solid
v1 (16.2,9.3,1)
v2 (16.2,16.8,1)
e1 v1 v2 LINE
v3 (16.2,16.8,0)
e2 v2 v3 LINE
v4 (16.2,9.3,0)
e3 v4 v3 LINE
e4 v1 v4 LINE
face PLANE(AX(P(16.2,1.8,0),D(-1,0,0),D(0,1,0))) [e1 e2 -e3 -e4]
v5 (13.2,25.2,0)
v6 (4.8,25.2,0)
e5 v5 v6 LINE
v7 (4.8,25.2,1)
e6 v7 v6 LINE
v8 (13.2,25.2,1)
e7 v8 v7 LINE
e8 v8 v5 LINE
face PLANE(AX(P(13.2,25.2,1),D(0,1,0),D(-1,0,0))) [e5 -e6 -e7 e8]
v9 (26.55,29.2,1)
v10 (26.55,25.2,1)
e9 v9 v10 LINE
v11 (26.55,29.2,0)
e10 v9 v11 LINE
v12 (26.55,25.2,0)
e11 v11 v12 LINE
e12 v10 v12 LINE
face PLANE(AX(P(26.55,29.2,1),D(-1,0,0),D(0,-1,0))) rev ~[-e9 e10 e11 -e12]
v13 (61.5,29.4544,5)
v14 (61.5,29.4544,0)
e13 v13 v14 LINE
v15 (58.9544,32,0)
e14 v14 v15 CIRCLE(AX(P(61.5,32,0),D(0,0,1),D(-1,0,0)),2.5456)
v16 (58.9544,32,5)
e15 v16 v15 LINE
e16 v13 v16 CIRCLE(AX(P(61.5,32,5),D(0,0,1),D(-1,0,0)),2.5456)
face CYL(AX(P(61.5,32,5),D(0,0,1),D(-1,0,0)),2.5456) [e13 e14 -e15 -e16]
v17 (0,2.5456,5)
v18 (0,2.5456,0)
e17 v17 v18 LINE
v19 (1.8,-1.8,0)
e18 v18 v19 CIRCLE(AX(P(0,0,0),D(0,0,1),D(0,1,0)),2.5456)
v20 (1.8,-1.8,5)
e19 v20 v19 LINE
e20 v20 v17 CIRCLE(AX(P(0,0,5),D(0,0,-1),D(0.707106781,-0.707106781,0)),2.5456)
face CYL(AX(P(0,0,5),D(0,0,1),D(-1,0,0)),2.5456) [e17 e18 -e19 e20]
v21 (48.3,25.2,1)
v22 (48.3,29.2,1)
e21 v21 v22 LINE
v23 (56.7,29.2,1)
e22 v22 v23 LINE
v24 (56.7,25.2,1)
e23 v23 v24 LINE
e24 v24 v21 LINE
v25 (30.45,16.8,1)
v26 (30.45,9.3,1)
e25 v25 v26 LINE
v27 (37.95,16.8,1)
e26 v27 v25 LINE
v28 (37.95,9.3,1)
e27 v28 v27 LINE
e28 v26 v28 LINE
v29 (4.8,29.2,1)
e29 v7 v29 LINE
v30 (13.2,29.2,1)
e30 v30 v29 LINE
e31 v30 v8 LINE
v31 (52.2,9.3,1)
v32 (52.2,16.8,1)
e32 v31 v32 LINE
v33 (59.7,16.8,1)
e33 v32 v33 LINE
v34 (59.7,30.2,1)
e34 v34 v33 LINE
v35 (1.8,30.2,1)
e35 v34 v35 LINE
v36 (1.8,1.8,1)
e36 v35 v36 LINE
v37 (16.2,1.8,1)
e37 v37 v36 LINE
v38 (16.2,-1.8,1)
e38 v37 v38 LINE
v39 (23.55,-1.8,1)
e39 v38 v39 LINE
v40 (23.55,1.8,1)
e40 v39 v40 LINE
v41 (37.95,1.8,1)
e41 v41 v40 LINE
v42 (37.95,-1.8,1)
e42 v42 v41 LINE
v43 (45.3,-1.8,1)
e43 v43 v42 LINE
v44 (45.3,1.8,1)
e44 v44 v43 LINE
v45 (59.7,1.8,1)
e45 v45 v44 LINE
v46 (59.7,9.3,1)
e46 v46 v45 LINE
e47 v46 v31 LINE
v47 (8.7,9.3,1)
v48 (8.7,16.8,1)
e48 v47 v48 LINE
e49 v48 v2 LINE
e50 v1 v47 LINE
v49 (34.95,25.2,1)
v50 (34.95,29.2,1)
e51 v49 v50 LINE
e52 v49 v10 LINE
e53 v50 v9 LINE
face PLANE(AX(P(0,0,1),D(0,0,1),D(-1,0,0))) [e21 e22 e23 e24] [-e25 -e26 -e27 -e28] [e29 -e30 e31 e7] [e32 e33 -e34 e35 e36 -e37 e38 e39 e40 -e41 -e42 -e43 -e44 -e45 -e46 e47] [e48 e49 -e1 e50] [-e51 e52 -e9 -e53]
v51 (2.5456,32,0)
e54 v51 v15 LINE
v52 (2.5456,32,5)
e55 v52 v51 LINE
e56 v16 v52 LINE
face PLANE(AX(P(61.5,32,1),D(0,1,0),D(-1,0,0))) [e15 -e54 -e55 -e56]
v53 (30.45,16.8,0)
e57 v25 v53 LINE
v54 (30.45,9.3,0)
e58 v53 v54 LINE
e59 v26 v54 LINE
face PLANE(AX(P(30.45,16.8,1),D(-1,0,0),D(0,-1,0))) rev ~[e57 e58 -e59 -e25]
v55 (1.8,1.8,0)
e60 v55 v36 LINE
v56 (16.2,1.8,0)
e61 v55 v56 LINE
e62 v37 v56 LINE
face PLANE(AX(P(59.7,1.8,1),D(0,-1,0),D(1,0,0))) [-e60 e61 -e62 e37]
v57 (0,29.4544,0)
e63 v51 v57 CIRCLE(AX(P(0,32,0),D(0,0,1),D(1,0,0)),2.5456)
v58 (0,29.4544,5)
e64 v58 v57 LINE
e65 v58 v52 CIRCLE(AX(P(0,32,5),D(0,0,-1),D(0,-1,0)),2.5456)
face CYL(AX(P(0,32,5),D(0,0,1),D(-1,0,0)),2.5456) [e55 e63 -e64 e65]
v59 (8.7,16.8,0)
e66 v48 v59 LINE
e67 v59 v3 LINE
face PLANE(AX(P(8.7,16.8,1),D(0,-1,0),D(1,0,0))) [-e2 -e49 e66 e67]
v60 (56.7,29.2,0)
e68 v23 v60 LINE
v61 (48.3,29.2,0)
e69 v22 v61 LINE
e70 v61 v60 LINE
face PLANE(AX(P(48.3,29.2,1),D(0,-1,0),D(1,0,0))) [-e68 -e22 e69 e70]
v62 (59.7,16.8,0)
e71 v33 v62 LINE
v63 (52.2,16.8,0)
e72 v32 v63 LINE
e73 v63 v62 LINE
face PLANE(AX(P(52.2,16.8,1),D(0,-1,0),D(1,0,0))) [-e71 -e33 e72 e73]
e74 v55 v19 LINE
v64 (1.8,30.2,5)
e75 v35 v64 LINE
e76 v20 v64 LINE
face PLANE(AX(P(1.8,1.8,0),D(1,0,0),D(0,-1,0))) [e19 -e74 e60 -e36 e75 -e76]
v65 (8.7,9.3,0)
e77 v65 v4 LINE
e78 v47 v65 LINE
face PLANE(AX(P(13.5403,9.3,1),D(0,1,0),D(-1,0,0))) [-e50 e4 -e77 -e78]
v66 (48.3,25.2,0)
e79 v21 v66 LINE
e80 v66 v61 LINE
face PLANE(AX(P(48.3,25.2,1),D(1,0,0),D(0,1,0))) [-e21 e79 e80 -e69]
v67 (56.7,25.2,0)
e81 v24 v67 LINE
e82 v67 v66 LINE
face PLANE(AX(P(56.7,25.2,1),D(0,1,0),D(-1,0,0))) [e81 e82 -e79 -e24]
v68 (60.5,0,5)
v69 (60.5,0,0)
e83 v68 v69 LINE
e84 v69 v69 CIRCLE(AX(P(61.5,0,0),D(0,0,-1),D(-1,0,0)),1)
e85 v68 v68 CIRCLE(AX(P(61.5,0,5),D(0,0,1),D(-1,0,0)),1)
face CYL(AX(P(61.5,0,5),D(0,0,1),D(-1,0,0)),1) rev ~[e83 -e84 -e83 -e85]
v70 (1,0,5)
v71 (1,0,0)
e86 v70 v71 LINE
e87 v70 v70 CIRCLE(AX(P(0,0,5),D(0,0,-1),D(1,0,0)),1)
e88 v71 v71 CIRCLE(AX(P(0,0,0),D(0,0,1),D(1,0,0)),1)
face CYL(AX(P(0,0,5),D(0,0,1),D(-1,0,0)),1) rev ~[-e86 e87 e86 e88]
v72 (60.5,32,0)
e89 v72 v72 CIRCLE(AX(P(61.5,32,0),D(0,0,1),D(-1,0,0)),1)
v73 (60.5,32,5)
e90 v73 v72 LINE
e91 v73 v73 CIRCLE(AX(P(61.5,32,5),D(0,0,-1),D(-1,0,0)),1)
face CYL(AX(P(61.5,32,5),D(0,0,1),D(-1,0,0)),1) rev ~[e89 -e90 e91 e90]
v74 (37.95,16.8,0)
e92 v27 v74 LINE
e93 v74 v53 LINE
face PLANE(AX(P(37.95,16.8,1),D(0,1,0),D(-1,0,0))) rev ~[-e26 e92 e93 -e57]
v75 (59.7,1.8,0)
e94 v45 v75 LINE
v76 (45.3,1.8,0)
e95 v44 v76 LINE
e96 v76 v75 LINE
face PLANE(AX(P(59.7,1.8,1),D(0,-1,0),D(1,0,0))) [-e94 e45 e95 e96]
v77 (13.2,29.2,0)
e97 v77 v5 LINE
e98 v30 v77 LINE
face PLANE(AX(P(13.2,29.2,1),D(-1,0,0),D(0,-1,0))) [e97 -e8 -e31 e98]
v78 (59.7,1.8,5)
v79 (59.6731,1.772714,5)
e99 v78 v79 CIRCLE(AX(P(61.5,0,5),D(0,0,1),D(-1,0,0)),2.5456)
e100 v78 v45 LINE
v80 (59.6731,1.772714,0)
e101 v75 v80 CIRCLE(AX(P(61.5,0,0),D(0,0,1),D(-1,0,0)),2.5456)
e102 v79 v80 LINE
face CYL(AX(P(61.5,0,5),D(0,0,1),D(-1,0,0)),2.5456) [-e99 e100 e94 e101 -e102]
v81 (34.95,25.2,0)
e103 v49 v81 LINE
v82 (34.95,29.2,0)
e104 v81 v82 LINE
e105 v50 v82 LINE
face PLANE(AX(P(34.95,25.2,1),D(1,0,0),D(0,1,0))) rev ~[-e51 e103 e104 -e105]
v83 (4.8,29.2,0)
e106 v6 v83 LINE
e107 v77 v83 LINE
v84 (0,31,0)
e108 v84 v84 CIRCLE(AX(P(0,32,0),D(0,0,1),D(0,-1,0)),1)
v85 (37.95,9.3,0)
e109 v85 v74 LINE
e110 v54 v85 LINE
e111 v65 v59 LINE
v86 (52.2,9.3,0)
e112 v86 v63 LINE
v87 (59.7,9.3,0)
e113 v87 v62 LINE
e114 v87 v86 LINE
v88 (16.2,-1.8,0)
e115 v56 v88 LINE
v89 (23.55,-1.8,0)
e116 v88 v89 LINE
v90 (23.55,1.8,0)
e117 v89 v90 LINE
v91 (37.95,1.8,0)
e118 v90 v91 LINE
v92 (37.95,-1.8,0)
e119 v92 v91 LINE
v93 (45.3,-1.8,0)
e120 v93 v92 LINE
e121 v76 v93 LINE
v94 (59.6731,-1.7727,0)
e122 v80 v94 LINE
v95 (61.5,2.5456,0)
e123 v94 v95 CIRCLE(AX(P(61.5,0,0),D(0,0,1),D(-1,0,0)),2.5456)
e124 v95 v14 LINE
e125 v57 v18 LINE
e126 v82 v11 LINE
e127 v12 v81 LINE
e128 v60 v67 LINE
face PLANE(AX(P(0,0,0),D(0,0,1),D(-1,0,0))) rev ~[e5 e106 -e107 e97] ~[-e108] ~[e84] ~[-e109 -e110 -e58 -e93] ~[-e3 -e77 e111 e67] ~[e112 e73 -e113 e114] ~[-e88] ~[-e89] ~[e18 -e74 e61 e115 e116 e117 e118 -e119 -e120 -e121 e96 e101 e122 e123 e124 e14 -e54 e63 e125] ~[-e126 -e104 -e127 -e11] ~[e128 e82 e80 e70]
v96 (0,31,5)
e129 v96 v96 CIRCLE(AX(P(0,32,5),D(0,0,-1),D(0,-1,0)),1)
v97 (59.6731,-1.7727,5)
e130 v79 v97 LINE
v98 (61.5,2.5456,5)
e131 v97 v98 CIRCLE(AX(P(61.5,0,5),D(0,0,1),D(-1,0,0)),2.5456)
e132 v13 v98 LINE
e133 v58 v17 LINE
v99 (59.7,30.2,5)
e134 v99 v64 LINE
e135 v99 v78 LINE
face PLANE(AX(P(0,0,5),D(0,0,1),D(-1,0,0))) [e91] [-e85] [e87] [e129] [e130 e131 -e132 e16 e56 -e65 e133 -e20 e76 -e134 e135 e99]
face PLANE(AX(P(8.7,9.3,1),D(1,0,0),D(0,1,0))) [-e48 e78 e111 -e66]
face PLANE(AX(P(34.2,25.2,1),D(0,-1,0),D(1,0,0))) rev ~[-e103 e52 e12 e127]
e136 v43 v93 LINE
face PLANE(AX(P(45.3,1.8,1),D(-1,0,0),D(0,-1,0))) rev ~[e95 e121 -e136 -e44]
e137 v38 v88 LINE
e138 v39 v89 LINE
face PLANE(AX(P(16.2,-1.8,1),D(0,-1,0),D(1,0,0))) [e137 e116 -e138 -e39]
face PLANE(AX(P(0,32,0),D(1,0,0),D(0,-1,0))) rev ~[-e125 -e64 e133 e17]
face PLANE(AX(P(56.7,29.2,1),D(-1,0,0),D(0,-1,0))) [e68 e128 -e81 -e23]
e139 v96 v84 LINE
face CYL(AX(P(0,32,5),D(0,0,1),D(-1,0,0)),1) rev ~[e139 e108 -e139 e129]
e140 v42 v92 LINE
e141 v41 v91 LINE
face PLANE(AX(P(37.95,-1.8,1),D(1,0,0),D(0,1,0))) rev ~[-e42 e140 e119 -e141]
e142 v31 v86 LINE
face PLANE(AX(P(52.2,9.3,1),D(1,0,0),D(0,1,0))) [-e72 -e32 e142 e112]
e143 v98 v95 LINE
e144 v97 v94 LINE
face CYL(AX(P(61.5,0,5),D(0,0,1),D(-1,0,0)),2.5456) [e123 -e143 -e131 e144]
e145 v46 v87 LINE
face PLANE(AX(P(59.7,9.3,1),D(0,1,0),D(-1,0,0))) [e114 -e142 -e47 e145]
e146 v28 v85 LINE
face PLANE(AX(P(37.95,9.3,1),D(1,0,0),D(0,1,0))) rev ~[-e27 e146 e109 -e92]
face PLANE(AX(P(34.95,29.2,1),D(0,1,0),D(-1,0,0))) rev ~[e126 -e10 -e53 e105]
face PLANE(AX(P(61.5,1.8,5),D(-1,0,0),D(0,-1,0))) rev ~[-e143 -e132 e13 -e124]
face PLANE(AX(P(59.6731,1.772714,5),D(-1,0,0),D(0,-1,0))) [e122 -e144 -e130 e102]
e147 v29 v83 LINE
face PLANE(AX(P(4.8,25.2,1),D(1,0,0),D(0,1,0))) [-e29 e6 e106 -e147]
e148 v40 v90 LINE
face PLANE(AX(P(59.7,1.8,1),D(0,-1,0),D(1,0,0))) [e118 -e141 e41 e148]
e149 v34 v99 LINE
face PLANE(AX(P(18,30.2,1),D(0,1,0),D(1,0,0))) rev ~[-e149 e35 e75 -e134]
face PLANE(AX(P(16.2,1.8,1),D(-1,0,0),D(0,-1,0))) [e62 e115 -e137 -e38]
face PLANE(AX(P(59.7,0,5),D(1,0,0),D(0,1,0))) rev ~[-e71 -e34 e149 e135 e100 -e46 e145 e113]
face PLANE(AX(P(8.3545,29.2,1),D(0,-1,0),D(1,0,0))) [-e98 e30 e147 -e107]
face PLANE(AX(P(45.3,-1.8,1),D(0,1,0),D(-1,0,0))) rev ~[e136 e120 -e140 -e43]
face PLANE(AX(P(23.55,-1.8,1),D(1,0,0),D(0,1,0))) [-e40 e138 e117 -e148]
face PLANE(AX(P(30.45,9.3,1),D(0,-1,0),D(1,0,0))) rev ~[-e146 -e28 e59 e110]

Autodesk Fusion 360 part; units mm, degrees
sketch "Sketch1" plane through (0, 0, 0) normal (0, 0, 1) x (1, 0, 0)
  line L0 (0, 0) -> (18, 0)
  line L1 (18, 0) -> (18, 32)
  line L2 (18, 32) -> (0, 32)
  line L3 (0, 32) -> (0, 0)
  line L4 (1.8, 1.8) -> (16.2, 1.8)
  line L5 (16.2, 1.8) -> (16.2, 30.2)
  line L6 (16.2, 30.2) -> (1.8, 30.2)
  line L7 (1.8, 30.2) -> (1.8, 1.8)
  line L8 (1.8, 1.8) -> (1.8, 0)
  line L9 (16.2, 1.8) -> (16.2, 0)
  line L10 (1.8, 0) -> (1.8, -1.8)
  line L11 (16.2, 0) -> (16.2, -1.8)
  line L12 (16.2, 1.8) -> (18, 1.8)
  dimension "d1" = 18
  dimension "d2" = 32
  dimension "d3" = 28.4
  dimension "d4" = 14.4
  dimension "d5" = 1.8
  dimension "d6" = 1.8
extrude "Extrude1" add sketch "Sketch1" along normal blind 1 contours L4 L5 L6 L7 makes body 1
extrude "Extrude3" add sketch "Sketch1" along normal blind 5 separate body contours L0 L1 L2 L3 L5 L6 L7 L8 L12 | L0 L1 L9 L12 makes body 2
sketch "Sketch3" plane through (0, 30.2, 0) normal (0, -1, 0) x (1, 0, 0)
  line L0 (1.8, 0) -> (16.2, 0)
  line L1 (16.2, 0) -> (16.2, 5)
  line L2 (16.2, 5) -> (1.8, 5)
  line L3 (1.8, 5) -> (1.8, 0)
  line L4 (3.3, 1) -> (14.7, 1)
  line L5 (14.7, 1) -> (14.7, 4)
  line L6 (14.7, 4) -> (3.3, 4)
  line L7 (3.3, 4) -> (3.3, 1)
  dimension "d13" = 3
  dimension "d14" = 1.5
  dimension "d15" = 1.5
sketch "Sketch4" plane through (0, 0, 1) normal (0, 0, 1) x (-1, 0, 0)
  line L0 (-1.8, -30.2) -> (-1.8, -1.8)
  line L1 (-1.8, -1.8) -> (-16.2, -1.8)
  line L2 (-16.2, -1.8) -> (-16.2, -30.2)
  line L3 (-16.2, -30.2) -> (-1.8, -30.2)
  line L4 (-13.5403, -1.8) -> (-13.5403, -9.3)
  line L5 (-16.2, -9.3) -> (-8.7, -9.3)
  line L6 (-8.7, -9.3) -> (-8.7, -16.8)
  line L7 (-8.7, -16.8) -> (-16.2, -16.8)
  line L8 (-16.2, -16.8) -> (-16.2, -9.3)
  dimension "d18" = 7.5
  dimension "d19" = 7.5
  dimension "d20" = 7.5
extrude "Extrude5" cut sketch "Sketch4" against normal blind 1 contours L2 L5 L6 L7 L8 bodies 1
sketch "Sketch5" plane through (0, 0, 1) normal (0, 0, 1) x (-1, 0, 0)
  line L0 (-8.7, -16.8) -> (-16.2, -16.8)
  line L1 (-16.2, -16.8) -> (-16.2, -30.2)
  line L2 (-16.2, -30.2) -> (-1.8, -30.2)
  line L3 (-1.8, -30.2) -> (-1.8, -1.8)
  line L4 (-1.8, -1.8) -> (-16.2, -1.8)
  line L5 (-16.2, -1.8) -> (-16.2, -9.3)
  line L6 (-16.2, -9.3) -> (-8.7, -9.3)
  line L7 (-8.7, -9.3) -> (-8.7, -16.8)
  line L8 (-9, -30.2) -> (-9, -25.2) construction
  line L9 (-1.8, -25.2) -> (-4.8, -25.2) construction
  line L10 (-16.2, -25.2) -> (-13.2, -25.2) construction
  line L11 (-8.3545, -30.2) -> (-8.3545, -29.2)
  line L12 (-13.2, -25.2) -> (-4.8, -25.2)
  line L13 (-4.8, -25.2) -> (-4.8, -29.2)
  line L14 (-4.8, -29.2) -> (-13.2, -29.2)
  line L15 (-13.2, -29.2) -> (-13.2, -25.2)
  dimension "d24" = 3
  dimension "d25" = 3
  dimension "d26" = 1
  dimension "d27" = 5
  dimension "d28" = 4
sketch "Sketch7" plane through (0, 0, 5) normal (0, 0, 1) x (-1, 0, 0)
  line L0 (-16.2, -30.2) -> (-16.2, 0)
  line L1 (-16.2, 0) -> (-18, 0)
  line L2 (-18, 0) -> (-18, -32)
  line L3 (-18, -32) -> (0, -32)
  line L4 (0, -32) -> (0, 0)
  line L5 (0, 0) -> (-1.8, 0)
  line L6 (-1.8, 0) -> (-1.8, -30.2)
  line L7 (-1.8, -30.2) -> (-16.2, -30.2)
  line L8 (-16.2, -30.2) -> (-18, -30.2)
  line L9 (-16.2, 0) -> (-18, 0)
extrude "Extrude9" cut sketch "Sketch7" against normal blind 4 contours L0 L1 L2 L8 L9 bodies 2
combine "Combine2" operation add target body 2 tool bodies 1
extrude "Extrude6" cut sketch "Sketch5" against normal blind 1 contours L12 L13 L14 L15 bodies 2
sketch "Sketch9" plane through (0, 0, 1) normal (0, 0, 1) x (-1, 0, 0)
  line L0 (-4.8, -25.2) -> (-4.8, -29.2)
  line L1 (-4.8, -29.2) -> (-13.2, -29.2)
  line L2 (-13.2, -29.2) -> (-13.2, -25.2)
  line L3 (-13.2, -25.2) -> (-4.8, -25.2)
  line L4 (-16.2, -1.8) -> (-16.2, 0)
  line L5 (-16.2, 0) -> (-18, 0)
  line L6 (-18, 0) -> (-18, -30.2)
  line L7 (-18, -30.2) -> (-1.8, -30.2)
  line L8 (-1.8, -30.2) -> (-1.8, -1.8)
  line L9 (-1.8, -1.8) -> (-16.2, -1.8)
  line L10 (-16.2, -9.3) -> (-8.7, -9.3)
  line L11 (-8.7, -9.3) -> (-8.7, -16.8)
  line L12 (-8.7, -16.8) -> (-16.2, -16.8)
  line L13 (-16.2, -16.8) -> (-16.2, -9.3)
  line L14 (-9, -34.6502) -> (-30.75, -34.6502)
  line L15 (-30.75, -34.6502) -> (-52.5, -34.6502)
  line L16 (-52.5, -34.6502) -> (-59.7, -34.6502)
  line L17 (-59.7, -34.6502) -> (-61.5, -34.6502)
  line L18 (-18, -32) -> (-61.5, -32)
  line L19 (-61.5, -32) -> (-61.5, 0)
  line L20 (-61.5, 0) -> (-18, 0)
  line L21 (-18, 0) -> (-18, -32)
  line L22 (-9, -30.2) -> (-9, -25.2)
  line L23 (-18, -30.2) -> (-59.7, -30.2)
  line L24 (-59.7, -30.2) -> (-59.7, -1.8)
  line L25 (-59.7, -1.8) -> (-18, -1.8)
  line L26 (-18, -1.8) -> (-18, -30.2)
  line L27 (-59.7, -1.8) -> (-61.5, -1.8)
  line L28 (-41.625, -34.6502) -> (-41.625, -24)
  point P0 (-18, -32)
  dimension "d42" = 21.75
  dimension "d43" = 21.75
  dimension "d44" = 7.2
  dimension "d45" = 1.8
  dimension "d46" = 1.8
  dimension "d47" = 1.8
extrude "Extrude12" add sketch "Sketch9" against normal blind 1 contours L6 L21 L23 L24 L25 L26 bodies 2
extrude "Extrude13" add sketch "Sketch9" along normal blind 4 contours L18 L21 L23 L28 | L18 L19 L23 L24 L27 L28 bodies 2
extrude "Extrude14" add sketch "Sketch9" along normal blind 1 contours L18 L21 L23 L28 | L18 L19 L23 L24 L27 L28 bodies 2
sketch "Sketch10" plane through (0, 0, 1) normal (0, 0, -1) x (1, 0, 0)
  line L0 (59.7, -30.2) -> (18, -30.2)
  line L1 (18, -30.2) -> (18, -32)
  line L2 (18, -32) -> (61.5, -32)
  line L3 (61.5, -32) -> (61.5, -1.8)
  line L4 (61.5, -1.8) -> (59.7, -1.8)
  line L5 (59.7, -1.8) -> (59.7, -30.2)
extrude "Extrude15" add 1 faces at (46.4, 31.4, 1) along direction (0, 0, -1) blind 1 on bodies 2 bodies 2
sketch "Sketch11" plane through (0, 0, 1) normal (0, 0, 1) x (-1, 0, 0)
  line L0 (-4.8, -25.2) -> (-4.8, -29.2)
  line L1 (-4.8, -29.2) -> (-13.2, -29.2)
  line L2 (-13.2, -29.2) -> (-13.2, -25.2)
  line L3 (-13.2, -25.2) -> (-4.8, -25.2)
  line L4 (-16.2, -1.8) -> (-16.2, 0)
  line L5 (-16.2, 0) -> (-18, 0)
  line L6 (-18, 0) -> (-18, -1.8)
  line L7 (-18, -1.8) -> (-59.7, -1.8)
  line L8 (-59.7, -1.8) -> (-59.7, -30.2)
  line L9 (-59.7, -30.2) -> (-1.8, -30.2)
  line L10 (-1.8, -30.2) -> (-1.8, -1.8)
  line L11 (-1.8, -1.8) -> (-16.2, -1.8)
  line L12 (-16.2, -9.3) -> (-8.7, -9.3)
  line L13 (-8.7, -9.3) -> (-8.7, -16.8)
  line L14 (-8.7, -16.8) -> (-16.2, -16.8)
  line L15 (-16.2, -16.8) -> (-16.2, -9.3)
  line L16 (-9, -34.6502) -> (-30.75, -34.6502)
  line L17 (-30.75, -34.6502) -> (-52.5, -34.6502)
  line L18 (-52.5, -34.6502) -> (-59.7, -34.6502)
  line L19 (-59.7, -34.6502) -> (-61.5, -34.6502)
  line L20 (-9, -30.2) -> (-9, -25.2)
  line L21 (-19.875, -34.6502) -> (-19.875, -25)
  line L22 (-41.625, -34.6502) -> (-41.625, -25)
  line L23 (-26.55, -25.2) -> (-34.95, -25.2)
  line L24 (-34.95, -29.2) -> (-26.55, -29.2)
  line L25 (-34.95, -25.2) -> (-34.95, -29.2)
  line L26 (-26.55, -29.2) -> (-26.55, -25.2)
  line L27 (-56.7, -25.2) -> (-48.3, -25.2)
  line L28 (-56.7, -29.2) -> (-56.7, -25.2)
  line L29 (-48.3, -29.2) -> (-56.7, -29.2)
  line L30 (-48.3, -25.2) -> (-48.3, -29.2)
  line L31 (-16.2, -1.8) -> (-18, -1.8)
  line L32 (-12.45, -25.1815) -> (-12.45, -9.3) construction
  line L33 (-34.2, -25.2) -> (-34.2, -21.3798)
  line L34 (-12.45, -25.1815) -> (-34.2, -25.2) construction
  line L35 (-23.325, -25.1907) -> (-23.325, -13.8088) construction
  line L36 (-34.2, -25.2) -> (-55.95, -25.2) construction
  line L37 (-45.075, -25.2) -> (-45.075, -12.6632) construction
  line L38 (-37.95, -16.8) -> (-30.45, -16.8)
  line L39 (-30.45, -16.8) -> (-30.45, -9.3)
  line L40 (-30.45, -9.3) -> (-37.95, -9.3)
  line L41 (-37.95, -9.3) -> (-37.95, -16.8)
  line L42 (-52.2, -16.8) -> (-59.7, -16.8)
  line L43 (-52.2, -9.3) -> (-52.2, -16.8)
  line L44 (-59.7, -9.3) -> (-52.2, -9.3)
  line L45 (-59.7, -16.8) -> (-59.7, -9.3)
  dimension "d64" = 0.75
  dimension "d65" = 21.75
extrude "Extrude16" cut sketch "Sketch11" against normal blind 1 contours L23 L24 L25 L26 | L27 L28 L29 L30 bodies 2
extrude "Extrude17" cut sketch "Sketch11" against normal blind 1 contours L4 L5 L6 L31 bodies 2
extrude "Extrude19" cut sketch "Sketch11" against normal blind 1 contours L8 L42 L43 L44 L45 | L38 L39 L40 L41 bodies 2
sketch "Sketch12" plane through (0, 0, 5) normal (0, 0, 1) x (-1, 0, 0)
  line L0 (-1.8, -30.2) -> (-59.7, -30.2)
  line L1 (-59.7, -30.2) -> (-59.7, -1.8)
  line L2 (-59.7, -1.8) -> (-61.5, -1.8)
  line L3 (-61.5, -1.8) -> (-61.5, -32)
  line L4 (-61.5, -32) -> (0, -32)
  line L5 (0, -32) -> (0, 0)
  line L6 (0, 0) -> (-1.8, 0)
  line L7 (-1.8, 0) -> (-1.8, -30.2)
  line L8 (-59.7, -1.8) -> (-61.5, -1.8)
  line L9 (-61.5, -1.8) -> (-61.5, 0)
  line L10 (-61.5, 0) -> (-59.7, 0)
  line L11 (-59.7, 0) -> (-59.7, -1.8)
  dimension "d70" = 1.8
  dimension "d71" = 1.8
extrude "Extrude20" add sketch "Sketch12" against normal blind 5 contours L2 L8 L9 L10 L11 bodies 2
sketch "Sketch13" plane through (0, 0, 5) normal (0, 0, 1) x (-1, 0, 0)
  line L0 (-1.8, -30.2) -> (-59.7, -30.2)
  line L1 (-59.7, -30.2) -> (-59.7, 0)
  line L2 (-59.7, 0) -> (-61.5, 0)
  line L3 (-61.5, 0) -> (-61.5, -32)
  line L4 (-61.5, -32) -> (0, -32)
  line L5 (0, -32) -> (0, 0)
  line L6 (0, 0) -> (-1.8, 0)
  line L7 (-1.8, 0) -> (-1.8, -30.2)
  line L8 (-1.8, -1.8) -> (-59.7, -1.8)
  circle A0 centre (0, 0) radius 2.5456
  circle A1 centre (0, -32) radius 2.5456
  circle A2 centre (-61.5, 0) radius 2.5456
  circle A3 centre (-61.5, -32) radius 2.5456
  circle A4 centre (-61.5, 0) radius 1
  circle A5 centre (-61.5, -32) radius 1
  circle A6 centre (0, 0) radius 1
  circle A7 centre (0, -32) radius 1
  line L9 (-1.8, -1.8) -> (-1.8, 1.8)
  line L10 (-59.6731, -1.7885) -> (-59.6731, 1.7727)
  dimension "d74" = 2
  dimension "d75" = 2
  dimension "d76" = 2
  dimension "d77" = 2
extrude "Extrude21" add sketch "Sketch13" against normal blind 5 contours L4 L5 A1 A7 | L1 L2 L3 A2 A4 L10 | L3 L4 A3 A5 | L5 L6 A0 A6 L9 picked at (2.0172, -32.1761) picked at (-60.086, -33.4496) bodies 2
extrude "Extrude22" cut sketch "Sketch13" against normal blind 5 contours L4 L5 A7 | L3 L4 A5 | L5 L6 A6 | L2 L3 A4 picked at (-0.6633, -31.9526) picked at (-60.8502, -31.8587) picked at (-0.0474, -0.6633) picked at (-60.9677, -0.3985) bodies 2
sketch "Sketch14" plane through (0, 0, 1) normal (0, 0, 1) x (-1, 0, 0)
  line L0 (-52.2, -16.8) -> (-59.7, -16.8)
  line L1 (-59.7, -16.8) -> (-59.7, -30.2)
  line L2 (-59.7, -30.2) -> (-1.8, -30.2)
  line L3 (-1.8, -30.2) -> (-1.8, -1.8)
  line L4 (-1.8, -1.8) -> (-59.7, -1.8)
  line L5 (-59.7, -1.8) -> (-59.7, -9.3)
  line L6 (-59.7, -9.3) -> (-52.2, -9.3)
  line L7 (-52.2, -9.3) -> (-52.2, -16.8)
  line L8 (-30.45, -16.8) -> (-37.95, -16.8)
  line L9 (-37.95, -16.8) -> (-37.95, -9.3)
  line L10 (-37.95, -9.3) -> (-30.45, -9.3)
  line L11 (-30.45, -9.3) -> (-30.45, -16.8)
  line L12 (-34.95, -25.2) -> (-26.55, -25.2)
  line L13 (-26.55, -25.2) -> (-26.55, -29.2)
  line L14 (-26.55, -29.2) -> (-34.95, -29.2)
  line L15 (-34.95, -29.2) -> (-34.95, -25.2)
  line L16 (-56.7, -29.2) -> (-56.7, -25.2)
  line L17 (-56.7, -25.2) -> (-48.3, -25.2)
  line L18 (-48.3, -25.2) -> (-48.3, -29.2)
  line L19 (-48.3, -29.2) -> (-56.7, -29.2)
  line L20 (-4.8, -25.2) -> (-4.8, -29.2)
  line L21 (-4.8, -29.2) -> (-13.2, -29.2)
  line L22 (-13.2, -29.2) -> (-13.2, -25.2)
  line L23 (-13.2, -25.2) -> (-4.8, -25.2)
  line L24 (-16.2, -9.3) -> (-8.7, -9.3)
  line L25 (-8.7, -9.3) -> (-8.7, -16.8)
  line L26 (-8.7, -16.8) -> (-16.2, -16.8)
  line L27 (-16.2, -16.8) -> (-16.2, -9.3)
  line L28 (-13.2, -27.2) -> (-16.2, -27.2)
  line L29 (-16.2, -27.2) -> (-16.2, -1.8)
  line L30 (-16.2, -1.8) -> (-16.2, 1.8)
  line L31 (-26.55, -27.2) -> (-23.55, -27.2)
  line L32 (-16.2, 1.8) -> (-23.55, 1.8)
  line L33 (-23.55, 1.8) -> (-23.55, -1.8)
  line L34 (-30.75, -29.2) -> (-30.75, -25.2)
  line L35 (-16.2, -1.8) -> (-23.55, -1.8)
  line L36 (-37.95, 1.8) -> (-37.95, -1.8)
  line L37 (-45.3, -1.8) -> (-37.95, -1.8)
  line L38 (-45.3, 1.8) -> (-37.95, 1.8)
  line L39 (-45.3, -1.8) -> (-45.3, 1.8)
  dimension "d82" = 3
  dimension "d83" = 3.6
  dimension "d84" = 3
  dimension "d85" = 7.35
extrude "Extrude23" add sketch "Sketch14" against normal blind 1 contours L4 L36 L37 L38 L39 | L4 L30 L32 L33 L35 bodies 2
sketch "Sketch15" plane through (0, 0, 0) normal (0, 0, -1) x (1, 0, 0)
  line L0 (26.55, -25.2) -> (34.95, -25.2)
  line L1 (34.95, -25.2) -> (34.95, -29.2)
  line L2 (34.95, -29.2) -> (26.55, -29.2)
  line L3 (26.55, -29.2) -> (26.55, -25.2)
  line L4 (56.7, -25.2) -> (56.7, -29.2)
  line L5 (56.7, -29.2) -> (48.3, -29.2)
  line L6 (48.3, -29.2) -> (48.3, -25.2)
  line L7 (48.3, -25.2) -> (56.7, -25.2)
  line L8 (4.8, -29.2) -> (4.8, -25.2)
  line L9 (4.8, -25.2) -> (13.2, -25.2)
  line L10 (13.2, -25.2) -> (13.2, -29.2)
  line L11 (13.2, -29.2) -> (4.8, -29.2)
  line L12 (16.2, -9.3) -> (16.2, -16.8)
  line L13 (16.2, -16.8) -> (8.7, -16.8)
  line L14 (8.7, -16.8) -> (8.7, -9.3)
  line L15 (8.7, -9.3) -> (16.2, -9.3)
  line L16 (1.8, -1.8) -> (1.8, 1.8)
  arc A0 (1.8, 1.8) -> (0, -2.5456) centre (0, 0) ccw
  line L17 (0, -2.5456) -> (0, -29.4544)
  arc A1 (0, -29.4544) -> (2.5456, -32) centre (0, -32) ccw
  line L18 (2.5456, -32) -> (58.9544, -32)
  arc A2 (58.9544, -32) -> (61.5, -29.4544) centre (61.5, -32) ccw
  line L19 (61.5, -29.4544) -> (61.5, -2.5456)
  arc A3 (61.5, -2.5456) -> (59.6731, 1.7727) centre (61.5, 0) ccw
  line L20 (59.6731, 1.7727) -> (59.6731, -1.7727)
  arc A4 (59.6731, -1.7727) -> (59.7, -1.8) centre (61.5, 0) ccw
  line L21 (59.7, -1.8) -> (45.3, -1.8)
  line L22 (45.3, -1.8) -> (45.3, 1.8)
  line L23 (45.3, 1.8) -> (37.95, 1.8)
  line L24 (37.95, 1.8) -> (37.95, -1.8)
  line L25 (37.95, -1.8) -> (23.55, -1.8)
  line L26 (23.55, -1.8) -> (23.55, 1.8)
  line L27 (23.55, 1.8) -> (16.2, 1.8)
  line L28 (16.2, 1.8) -> (16.2, -1.8)
  line L29 (16.2, -1.8) -> (1.8, -1.8)
  line L30 (52.2, -16.8) -> (52.2, -9.3)
  line L31 (52.2, -9.3) -> (59.7, -9.3)
  line L32 (59.7, -9.3) -> (59.7, -16.8)
  line L33 (59.7, -16.8) -> (52.2, -16.8)
  line L34 (37.95, -16.8) -> (30.45, -16.8)
  line L35 (30.45, -16.8) -> (30.45, -9.3)
  line L36 (30.45, -9.3) -> (37.95, -9.3)
  line L37 (37.95, -9.3) -> (37.95, -16.8)
  circle A5 centre (0, -32) radius 1
  circle A6 centre (61.5, 0) radius 1
  circle A7 centre (0, 0) radius 1
  circle A8 centre (61.5, -32) radius 1
  line L38 (30.75, -29.2) -> (30.75, -25.2) construction
  line L39 (34.95, -27.2) -> (26.55, -27.2) construction
  circle A9 centre (30.75, -27.2) radius 1
  dimension "d88" = 2
sketch "Sketch16" plane through (0, 0, 1) normal (0, 0, 1) x (-1, 0, 0)
  line L0 (-52.2, -16.8) -> (-59.7, -16.8)
  line L1 (-59.7, -16.8) -> (-59.7, -30.2)
  line L2 (-59.7, -30.2) -> (-1.8, -30.2)
  line L3 (-1.8, -30.2) -> (-1.8, -1.8)
  line L4 (-1.8, -1.8) -> (-16.2, -1.8)
  line L5 (-16.2, -1.8) -> (-16.2, 1.8)
  line L6 (-16.2, 1.8) -> (-23.55, 1.8)
  line L7 (-23.55, 1.8) -> (-23.55, -1.8)
  line L8 (-23.55, -1.8) -> (-37.95, -1.8)
  line L9 (-37.95, -1.8) -> (-37.95, 1.8)
  line L10 (-37.95, 1.8) -> (-45.3, 1.8)
  line L11 (-45.3, 1.8) -> (-45.3, -1.8)
  line L12 (-45.3, -1.8) -> (-59.7, -1.8)
  line L13 (-59.7, -1.8) -> (-59.7, -9.3)
  line L14 (-59.7, -9.3) -> (-52.2, -9.3)
  line L15 (-52.2, -9.3) -> (-52.2, -16.8)
  line L16 (-30.45, -16.8) -> (-37.95, -16.8)
  line L17 (-37.95, -16.8) -> (-37.95, -9.3)
  line L18 (-37.95, -9.3) -> (-30.45, -9.3)
  line L19 (-30.45, -9.3) -> (-30.45, -16.8)
  line L20 (-34.95, -25.2) -> (-26.55, -25.2)
  line L21 (-26.55, -25.2) -> (-26.55, -29.2)
  line L22 (-26.55, -29.2) -> (-34.95, -29.2)
  line L23 (-34.95, -29.2) -> (-34.95, -25.2)
  line L24 (-56.7, -29.2) -> (-56.7, -25.2)
  line L25 (-56.7, -25.2) -> (-48.3, -25.2)
  line L26 (-48.3, -25.2) -> (-48.3, -29.2)
  line L27 (-48.3, -29.2) -> (-56.7, -29.2)
  line L28 (-4.8, -25.2) -> (-4.8, -29.2)
  line L29 (-4.8, -29.2) -> (-13.2, -29.2)
  line L30 (-13.2, -29.2) -> (-13.2, -25.2)
  line L31 (-13.2, -25.2) -> (-4.8, -25.2)
  line L32 (-16.2, -9.3) -> (-8.7, -9.3)
  line L33 (-8.7, -9.3) -> (-8.7, -16.8)
  line L34 (-8.7, -16.8) -> (-16.2, -16.8)
  line L35 (-16.2, -16.8) -> (-16.2, -9.3)
  line L36 (-34.2, -16.8) -> (-34.2, -9.3) construction
  line L37 (-30.45, -13.05) -> (-37.95, -13.05) construction
  circle A0 centre (-34.2, -13.05) radius 1
  dimension "d89" = 2
